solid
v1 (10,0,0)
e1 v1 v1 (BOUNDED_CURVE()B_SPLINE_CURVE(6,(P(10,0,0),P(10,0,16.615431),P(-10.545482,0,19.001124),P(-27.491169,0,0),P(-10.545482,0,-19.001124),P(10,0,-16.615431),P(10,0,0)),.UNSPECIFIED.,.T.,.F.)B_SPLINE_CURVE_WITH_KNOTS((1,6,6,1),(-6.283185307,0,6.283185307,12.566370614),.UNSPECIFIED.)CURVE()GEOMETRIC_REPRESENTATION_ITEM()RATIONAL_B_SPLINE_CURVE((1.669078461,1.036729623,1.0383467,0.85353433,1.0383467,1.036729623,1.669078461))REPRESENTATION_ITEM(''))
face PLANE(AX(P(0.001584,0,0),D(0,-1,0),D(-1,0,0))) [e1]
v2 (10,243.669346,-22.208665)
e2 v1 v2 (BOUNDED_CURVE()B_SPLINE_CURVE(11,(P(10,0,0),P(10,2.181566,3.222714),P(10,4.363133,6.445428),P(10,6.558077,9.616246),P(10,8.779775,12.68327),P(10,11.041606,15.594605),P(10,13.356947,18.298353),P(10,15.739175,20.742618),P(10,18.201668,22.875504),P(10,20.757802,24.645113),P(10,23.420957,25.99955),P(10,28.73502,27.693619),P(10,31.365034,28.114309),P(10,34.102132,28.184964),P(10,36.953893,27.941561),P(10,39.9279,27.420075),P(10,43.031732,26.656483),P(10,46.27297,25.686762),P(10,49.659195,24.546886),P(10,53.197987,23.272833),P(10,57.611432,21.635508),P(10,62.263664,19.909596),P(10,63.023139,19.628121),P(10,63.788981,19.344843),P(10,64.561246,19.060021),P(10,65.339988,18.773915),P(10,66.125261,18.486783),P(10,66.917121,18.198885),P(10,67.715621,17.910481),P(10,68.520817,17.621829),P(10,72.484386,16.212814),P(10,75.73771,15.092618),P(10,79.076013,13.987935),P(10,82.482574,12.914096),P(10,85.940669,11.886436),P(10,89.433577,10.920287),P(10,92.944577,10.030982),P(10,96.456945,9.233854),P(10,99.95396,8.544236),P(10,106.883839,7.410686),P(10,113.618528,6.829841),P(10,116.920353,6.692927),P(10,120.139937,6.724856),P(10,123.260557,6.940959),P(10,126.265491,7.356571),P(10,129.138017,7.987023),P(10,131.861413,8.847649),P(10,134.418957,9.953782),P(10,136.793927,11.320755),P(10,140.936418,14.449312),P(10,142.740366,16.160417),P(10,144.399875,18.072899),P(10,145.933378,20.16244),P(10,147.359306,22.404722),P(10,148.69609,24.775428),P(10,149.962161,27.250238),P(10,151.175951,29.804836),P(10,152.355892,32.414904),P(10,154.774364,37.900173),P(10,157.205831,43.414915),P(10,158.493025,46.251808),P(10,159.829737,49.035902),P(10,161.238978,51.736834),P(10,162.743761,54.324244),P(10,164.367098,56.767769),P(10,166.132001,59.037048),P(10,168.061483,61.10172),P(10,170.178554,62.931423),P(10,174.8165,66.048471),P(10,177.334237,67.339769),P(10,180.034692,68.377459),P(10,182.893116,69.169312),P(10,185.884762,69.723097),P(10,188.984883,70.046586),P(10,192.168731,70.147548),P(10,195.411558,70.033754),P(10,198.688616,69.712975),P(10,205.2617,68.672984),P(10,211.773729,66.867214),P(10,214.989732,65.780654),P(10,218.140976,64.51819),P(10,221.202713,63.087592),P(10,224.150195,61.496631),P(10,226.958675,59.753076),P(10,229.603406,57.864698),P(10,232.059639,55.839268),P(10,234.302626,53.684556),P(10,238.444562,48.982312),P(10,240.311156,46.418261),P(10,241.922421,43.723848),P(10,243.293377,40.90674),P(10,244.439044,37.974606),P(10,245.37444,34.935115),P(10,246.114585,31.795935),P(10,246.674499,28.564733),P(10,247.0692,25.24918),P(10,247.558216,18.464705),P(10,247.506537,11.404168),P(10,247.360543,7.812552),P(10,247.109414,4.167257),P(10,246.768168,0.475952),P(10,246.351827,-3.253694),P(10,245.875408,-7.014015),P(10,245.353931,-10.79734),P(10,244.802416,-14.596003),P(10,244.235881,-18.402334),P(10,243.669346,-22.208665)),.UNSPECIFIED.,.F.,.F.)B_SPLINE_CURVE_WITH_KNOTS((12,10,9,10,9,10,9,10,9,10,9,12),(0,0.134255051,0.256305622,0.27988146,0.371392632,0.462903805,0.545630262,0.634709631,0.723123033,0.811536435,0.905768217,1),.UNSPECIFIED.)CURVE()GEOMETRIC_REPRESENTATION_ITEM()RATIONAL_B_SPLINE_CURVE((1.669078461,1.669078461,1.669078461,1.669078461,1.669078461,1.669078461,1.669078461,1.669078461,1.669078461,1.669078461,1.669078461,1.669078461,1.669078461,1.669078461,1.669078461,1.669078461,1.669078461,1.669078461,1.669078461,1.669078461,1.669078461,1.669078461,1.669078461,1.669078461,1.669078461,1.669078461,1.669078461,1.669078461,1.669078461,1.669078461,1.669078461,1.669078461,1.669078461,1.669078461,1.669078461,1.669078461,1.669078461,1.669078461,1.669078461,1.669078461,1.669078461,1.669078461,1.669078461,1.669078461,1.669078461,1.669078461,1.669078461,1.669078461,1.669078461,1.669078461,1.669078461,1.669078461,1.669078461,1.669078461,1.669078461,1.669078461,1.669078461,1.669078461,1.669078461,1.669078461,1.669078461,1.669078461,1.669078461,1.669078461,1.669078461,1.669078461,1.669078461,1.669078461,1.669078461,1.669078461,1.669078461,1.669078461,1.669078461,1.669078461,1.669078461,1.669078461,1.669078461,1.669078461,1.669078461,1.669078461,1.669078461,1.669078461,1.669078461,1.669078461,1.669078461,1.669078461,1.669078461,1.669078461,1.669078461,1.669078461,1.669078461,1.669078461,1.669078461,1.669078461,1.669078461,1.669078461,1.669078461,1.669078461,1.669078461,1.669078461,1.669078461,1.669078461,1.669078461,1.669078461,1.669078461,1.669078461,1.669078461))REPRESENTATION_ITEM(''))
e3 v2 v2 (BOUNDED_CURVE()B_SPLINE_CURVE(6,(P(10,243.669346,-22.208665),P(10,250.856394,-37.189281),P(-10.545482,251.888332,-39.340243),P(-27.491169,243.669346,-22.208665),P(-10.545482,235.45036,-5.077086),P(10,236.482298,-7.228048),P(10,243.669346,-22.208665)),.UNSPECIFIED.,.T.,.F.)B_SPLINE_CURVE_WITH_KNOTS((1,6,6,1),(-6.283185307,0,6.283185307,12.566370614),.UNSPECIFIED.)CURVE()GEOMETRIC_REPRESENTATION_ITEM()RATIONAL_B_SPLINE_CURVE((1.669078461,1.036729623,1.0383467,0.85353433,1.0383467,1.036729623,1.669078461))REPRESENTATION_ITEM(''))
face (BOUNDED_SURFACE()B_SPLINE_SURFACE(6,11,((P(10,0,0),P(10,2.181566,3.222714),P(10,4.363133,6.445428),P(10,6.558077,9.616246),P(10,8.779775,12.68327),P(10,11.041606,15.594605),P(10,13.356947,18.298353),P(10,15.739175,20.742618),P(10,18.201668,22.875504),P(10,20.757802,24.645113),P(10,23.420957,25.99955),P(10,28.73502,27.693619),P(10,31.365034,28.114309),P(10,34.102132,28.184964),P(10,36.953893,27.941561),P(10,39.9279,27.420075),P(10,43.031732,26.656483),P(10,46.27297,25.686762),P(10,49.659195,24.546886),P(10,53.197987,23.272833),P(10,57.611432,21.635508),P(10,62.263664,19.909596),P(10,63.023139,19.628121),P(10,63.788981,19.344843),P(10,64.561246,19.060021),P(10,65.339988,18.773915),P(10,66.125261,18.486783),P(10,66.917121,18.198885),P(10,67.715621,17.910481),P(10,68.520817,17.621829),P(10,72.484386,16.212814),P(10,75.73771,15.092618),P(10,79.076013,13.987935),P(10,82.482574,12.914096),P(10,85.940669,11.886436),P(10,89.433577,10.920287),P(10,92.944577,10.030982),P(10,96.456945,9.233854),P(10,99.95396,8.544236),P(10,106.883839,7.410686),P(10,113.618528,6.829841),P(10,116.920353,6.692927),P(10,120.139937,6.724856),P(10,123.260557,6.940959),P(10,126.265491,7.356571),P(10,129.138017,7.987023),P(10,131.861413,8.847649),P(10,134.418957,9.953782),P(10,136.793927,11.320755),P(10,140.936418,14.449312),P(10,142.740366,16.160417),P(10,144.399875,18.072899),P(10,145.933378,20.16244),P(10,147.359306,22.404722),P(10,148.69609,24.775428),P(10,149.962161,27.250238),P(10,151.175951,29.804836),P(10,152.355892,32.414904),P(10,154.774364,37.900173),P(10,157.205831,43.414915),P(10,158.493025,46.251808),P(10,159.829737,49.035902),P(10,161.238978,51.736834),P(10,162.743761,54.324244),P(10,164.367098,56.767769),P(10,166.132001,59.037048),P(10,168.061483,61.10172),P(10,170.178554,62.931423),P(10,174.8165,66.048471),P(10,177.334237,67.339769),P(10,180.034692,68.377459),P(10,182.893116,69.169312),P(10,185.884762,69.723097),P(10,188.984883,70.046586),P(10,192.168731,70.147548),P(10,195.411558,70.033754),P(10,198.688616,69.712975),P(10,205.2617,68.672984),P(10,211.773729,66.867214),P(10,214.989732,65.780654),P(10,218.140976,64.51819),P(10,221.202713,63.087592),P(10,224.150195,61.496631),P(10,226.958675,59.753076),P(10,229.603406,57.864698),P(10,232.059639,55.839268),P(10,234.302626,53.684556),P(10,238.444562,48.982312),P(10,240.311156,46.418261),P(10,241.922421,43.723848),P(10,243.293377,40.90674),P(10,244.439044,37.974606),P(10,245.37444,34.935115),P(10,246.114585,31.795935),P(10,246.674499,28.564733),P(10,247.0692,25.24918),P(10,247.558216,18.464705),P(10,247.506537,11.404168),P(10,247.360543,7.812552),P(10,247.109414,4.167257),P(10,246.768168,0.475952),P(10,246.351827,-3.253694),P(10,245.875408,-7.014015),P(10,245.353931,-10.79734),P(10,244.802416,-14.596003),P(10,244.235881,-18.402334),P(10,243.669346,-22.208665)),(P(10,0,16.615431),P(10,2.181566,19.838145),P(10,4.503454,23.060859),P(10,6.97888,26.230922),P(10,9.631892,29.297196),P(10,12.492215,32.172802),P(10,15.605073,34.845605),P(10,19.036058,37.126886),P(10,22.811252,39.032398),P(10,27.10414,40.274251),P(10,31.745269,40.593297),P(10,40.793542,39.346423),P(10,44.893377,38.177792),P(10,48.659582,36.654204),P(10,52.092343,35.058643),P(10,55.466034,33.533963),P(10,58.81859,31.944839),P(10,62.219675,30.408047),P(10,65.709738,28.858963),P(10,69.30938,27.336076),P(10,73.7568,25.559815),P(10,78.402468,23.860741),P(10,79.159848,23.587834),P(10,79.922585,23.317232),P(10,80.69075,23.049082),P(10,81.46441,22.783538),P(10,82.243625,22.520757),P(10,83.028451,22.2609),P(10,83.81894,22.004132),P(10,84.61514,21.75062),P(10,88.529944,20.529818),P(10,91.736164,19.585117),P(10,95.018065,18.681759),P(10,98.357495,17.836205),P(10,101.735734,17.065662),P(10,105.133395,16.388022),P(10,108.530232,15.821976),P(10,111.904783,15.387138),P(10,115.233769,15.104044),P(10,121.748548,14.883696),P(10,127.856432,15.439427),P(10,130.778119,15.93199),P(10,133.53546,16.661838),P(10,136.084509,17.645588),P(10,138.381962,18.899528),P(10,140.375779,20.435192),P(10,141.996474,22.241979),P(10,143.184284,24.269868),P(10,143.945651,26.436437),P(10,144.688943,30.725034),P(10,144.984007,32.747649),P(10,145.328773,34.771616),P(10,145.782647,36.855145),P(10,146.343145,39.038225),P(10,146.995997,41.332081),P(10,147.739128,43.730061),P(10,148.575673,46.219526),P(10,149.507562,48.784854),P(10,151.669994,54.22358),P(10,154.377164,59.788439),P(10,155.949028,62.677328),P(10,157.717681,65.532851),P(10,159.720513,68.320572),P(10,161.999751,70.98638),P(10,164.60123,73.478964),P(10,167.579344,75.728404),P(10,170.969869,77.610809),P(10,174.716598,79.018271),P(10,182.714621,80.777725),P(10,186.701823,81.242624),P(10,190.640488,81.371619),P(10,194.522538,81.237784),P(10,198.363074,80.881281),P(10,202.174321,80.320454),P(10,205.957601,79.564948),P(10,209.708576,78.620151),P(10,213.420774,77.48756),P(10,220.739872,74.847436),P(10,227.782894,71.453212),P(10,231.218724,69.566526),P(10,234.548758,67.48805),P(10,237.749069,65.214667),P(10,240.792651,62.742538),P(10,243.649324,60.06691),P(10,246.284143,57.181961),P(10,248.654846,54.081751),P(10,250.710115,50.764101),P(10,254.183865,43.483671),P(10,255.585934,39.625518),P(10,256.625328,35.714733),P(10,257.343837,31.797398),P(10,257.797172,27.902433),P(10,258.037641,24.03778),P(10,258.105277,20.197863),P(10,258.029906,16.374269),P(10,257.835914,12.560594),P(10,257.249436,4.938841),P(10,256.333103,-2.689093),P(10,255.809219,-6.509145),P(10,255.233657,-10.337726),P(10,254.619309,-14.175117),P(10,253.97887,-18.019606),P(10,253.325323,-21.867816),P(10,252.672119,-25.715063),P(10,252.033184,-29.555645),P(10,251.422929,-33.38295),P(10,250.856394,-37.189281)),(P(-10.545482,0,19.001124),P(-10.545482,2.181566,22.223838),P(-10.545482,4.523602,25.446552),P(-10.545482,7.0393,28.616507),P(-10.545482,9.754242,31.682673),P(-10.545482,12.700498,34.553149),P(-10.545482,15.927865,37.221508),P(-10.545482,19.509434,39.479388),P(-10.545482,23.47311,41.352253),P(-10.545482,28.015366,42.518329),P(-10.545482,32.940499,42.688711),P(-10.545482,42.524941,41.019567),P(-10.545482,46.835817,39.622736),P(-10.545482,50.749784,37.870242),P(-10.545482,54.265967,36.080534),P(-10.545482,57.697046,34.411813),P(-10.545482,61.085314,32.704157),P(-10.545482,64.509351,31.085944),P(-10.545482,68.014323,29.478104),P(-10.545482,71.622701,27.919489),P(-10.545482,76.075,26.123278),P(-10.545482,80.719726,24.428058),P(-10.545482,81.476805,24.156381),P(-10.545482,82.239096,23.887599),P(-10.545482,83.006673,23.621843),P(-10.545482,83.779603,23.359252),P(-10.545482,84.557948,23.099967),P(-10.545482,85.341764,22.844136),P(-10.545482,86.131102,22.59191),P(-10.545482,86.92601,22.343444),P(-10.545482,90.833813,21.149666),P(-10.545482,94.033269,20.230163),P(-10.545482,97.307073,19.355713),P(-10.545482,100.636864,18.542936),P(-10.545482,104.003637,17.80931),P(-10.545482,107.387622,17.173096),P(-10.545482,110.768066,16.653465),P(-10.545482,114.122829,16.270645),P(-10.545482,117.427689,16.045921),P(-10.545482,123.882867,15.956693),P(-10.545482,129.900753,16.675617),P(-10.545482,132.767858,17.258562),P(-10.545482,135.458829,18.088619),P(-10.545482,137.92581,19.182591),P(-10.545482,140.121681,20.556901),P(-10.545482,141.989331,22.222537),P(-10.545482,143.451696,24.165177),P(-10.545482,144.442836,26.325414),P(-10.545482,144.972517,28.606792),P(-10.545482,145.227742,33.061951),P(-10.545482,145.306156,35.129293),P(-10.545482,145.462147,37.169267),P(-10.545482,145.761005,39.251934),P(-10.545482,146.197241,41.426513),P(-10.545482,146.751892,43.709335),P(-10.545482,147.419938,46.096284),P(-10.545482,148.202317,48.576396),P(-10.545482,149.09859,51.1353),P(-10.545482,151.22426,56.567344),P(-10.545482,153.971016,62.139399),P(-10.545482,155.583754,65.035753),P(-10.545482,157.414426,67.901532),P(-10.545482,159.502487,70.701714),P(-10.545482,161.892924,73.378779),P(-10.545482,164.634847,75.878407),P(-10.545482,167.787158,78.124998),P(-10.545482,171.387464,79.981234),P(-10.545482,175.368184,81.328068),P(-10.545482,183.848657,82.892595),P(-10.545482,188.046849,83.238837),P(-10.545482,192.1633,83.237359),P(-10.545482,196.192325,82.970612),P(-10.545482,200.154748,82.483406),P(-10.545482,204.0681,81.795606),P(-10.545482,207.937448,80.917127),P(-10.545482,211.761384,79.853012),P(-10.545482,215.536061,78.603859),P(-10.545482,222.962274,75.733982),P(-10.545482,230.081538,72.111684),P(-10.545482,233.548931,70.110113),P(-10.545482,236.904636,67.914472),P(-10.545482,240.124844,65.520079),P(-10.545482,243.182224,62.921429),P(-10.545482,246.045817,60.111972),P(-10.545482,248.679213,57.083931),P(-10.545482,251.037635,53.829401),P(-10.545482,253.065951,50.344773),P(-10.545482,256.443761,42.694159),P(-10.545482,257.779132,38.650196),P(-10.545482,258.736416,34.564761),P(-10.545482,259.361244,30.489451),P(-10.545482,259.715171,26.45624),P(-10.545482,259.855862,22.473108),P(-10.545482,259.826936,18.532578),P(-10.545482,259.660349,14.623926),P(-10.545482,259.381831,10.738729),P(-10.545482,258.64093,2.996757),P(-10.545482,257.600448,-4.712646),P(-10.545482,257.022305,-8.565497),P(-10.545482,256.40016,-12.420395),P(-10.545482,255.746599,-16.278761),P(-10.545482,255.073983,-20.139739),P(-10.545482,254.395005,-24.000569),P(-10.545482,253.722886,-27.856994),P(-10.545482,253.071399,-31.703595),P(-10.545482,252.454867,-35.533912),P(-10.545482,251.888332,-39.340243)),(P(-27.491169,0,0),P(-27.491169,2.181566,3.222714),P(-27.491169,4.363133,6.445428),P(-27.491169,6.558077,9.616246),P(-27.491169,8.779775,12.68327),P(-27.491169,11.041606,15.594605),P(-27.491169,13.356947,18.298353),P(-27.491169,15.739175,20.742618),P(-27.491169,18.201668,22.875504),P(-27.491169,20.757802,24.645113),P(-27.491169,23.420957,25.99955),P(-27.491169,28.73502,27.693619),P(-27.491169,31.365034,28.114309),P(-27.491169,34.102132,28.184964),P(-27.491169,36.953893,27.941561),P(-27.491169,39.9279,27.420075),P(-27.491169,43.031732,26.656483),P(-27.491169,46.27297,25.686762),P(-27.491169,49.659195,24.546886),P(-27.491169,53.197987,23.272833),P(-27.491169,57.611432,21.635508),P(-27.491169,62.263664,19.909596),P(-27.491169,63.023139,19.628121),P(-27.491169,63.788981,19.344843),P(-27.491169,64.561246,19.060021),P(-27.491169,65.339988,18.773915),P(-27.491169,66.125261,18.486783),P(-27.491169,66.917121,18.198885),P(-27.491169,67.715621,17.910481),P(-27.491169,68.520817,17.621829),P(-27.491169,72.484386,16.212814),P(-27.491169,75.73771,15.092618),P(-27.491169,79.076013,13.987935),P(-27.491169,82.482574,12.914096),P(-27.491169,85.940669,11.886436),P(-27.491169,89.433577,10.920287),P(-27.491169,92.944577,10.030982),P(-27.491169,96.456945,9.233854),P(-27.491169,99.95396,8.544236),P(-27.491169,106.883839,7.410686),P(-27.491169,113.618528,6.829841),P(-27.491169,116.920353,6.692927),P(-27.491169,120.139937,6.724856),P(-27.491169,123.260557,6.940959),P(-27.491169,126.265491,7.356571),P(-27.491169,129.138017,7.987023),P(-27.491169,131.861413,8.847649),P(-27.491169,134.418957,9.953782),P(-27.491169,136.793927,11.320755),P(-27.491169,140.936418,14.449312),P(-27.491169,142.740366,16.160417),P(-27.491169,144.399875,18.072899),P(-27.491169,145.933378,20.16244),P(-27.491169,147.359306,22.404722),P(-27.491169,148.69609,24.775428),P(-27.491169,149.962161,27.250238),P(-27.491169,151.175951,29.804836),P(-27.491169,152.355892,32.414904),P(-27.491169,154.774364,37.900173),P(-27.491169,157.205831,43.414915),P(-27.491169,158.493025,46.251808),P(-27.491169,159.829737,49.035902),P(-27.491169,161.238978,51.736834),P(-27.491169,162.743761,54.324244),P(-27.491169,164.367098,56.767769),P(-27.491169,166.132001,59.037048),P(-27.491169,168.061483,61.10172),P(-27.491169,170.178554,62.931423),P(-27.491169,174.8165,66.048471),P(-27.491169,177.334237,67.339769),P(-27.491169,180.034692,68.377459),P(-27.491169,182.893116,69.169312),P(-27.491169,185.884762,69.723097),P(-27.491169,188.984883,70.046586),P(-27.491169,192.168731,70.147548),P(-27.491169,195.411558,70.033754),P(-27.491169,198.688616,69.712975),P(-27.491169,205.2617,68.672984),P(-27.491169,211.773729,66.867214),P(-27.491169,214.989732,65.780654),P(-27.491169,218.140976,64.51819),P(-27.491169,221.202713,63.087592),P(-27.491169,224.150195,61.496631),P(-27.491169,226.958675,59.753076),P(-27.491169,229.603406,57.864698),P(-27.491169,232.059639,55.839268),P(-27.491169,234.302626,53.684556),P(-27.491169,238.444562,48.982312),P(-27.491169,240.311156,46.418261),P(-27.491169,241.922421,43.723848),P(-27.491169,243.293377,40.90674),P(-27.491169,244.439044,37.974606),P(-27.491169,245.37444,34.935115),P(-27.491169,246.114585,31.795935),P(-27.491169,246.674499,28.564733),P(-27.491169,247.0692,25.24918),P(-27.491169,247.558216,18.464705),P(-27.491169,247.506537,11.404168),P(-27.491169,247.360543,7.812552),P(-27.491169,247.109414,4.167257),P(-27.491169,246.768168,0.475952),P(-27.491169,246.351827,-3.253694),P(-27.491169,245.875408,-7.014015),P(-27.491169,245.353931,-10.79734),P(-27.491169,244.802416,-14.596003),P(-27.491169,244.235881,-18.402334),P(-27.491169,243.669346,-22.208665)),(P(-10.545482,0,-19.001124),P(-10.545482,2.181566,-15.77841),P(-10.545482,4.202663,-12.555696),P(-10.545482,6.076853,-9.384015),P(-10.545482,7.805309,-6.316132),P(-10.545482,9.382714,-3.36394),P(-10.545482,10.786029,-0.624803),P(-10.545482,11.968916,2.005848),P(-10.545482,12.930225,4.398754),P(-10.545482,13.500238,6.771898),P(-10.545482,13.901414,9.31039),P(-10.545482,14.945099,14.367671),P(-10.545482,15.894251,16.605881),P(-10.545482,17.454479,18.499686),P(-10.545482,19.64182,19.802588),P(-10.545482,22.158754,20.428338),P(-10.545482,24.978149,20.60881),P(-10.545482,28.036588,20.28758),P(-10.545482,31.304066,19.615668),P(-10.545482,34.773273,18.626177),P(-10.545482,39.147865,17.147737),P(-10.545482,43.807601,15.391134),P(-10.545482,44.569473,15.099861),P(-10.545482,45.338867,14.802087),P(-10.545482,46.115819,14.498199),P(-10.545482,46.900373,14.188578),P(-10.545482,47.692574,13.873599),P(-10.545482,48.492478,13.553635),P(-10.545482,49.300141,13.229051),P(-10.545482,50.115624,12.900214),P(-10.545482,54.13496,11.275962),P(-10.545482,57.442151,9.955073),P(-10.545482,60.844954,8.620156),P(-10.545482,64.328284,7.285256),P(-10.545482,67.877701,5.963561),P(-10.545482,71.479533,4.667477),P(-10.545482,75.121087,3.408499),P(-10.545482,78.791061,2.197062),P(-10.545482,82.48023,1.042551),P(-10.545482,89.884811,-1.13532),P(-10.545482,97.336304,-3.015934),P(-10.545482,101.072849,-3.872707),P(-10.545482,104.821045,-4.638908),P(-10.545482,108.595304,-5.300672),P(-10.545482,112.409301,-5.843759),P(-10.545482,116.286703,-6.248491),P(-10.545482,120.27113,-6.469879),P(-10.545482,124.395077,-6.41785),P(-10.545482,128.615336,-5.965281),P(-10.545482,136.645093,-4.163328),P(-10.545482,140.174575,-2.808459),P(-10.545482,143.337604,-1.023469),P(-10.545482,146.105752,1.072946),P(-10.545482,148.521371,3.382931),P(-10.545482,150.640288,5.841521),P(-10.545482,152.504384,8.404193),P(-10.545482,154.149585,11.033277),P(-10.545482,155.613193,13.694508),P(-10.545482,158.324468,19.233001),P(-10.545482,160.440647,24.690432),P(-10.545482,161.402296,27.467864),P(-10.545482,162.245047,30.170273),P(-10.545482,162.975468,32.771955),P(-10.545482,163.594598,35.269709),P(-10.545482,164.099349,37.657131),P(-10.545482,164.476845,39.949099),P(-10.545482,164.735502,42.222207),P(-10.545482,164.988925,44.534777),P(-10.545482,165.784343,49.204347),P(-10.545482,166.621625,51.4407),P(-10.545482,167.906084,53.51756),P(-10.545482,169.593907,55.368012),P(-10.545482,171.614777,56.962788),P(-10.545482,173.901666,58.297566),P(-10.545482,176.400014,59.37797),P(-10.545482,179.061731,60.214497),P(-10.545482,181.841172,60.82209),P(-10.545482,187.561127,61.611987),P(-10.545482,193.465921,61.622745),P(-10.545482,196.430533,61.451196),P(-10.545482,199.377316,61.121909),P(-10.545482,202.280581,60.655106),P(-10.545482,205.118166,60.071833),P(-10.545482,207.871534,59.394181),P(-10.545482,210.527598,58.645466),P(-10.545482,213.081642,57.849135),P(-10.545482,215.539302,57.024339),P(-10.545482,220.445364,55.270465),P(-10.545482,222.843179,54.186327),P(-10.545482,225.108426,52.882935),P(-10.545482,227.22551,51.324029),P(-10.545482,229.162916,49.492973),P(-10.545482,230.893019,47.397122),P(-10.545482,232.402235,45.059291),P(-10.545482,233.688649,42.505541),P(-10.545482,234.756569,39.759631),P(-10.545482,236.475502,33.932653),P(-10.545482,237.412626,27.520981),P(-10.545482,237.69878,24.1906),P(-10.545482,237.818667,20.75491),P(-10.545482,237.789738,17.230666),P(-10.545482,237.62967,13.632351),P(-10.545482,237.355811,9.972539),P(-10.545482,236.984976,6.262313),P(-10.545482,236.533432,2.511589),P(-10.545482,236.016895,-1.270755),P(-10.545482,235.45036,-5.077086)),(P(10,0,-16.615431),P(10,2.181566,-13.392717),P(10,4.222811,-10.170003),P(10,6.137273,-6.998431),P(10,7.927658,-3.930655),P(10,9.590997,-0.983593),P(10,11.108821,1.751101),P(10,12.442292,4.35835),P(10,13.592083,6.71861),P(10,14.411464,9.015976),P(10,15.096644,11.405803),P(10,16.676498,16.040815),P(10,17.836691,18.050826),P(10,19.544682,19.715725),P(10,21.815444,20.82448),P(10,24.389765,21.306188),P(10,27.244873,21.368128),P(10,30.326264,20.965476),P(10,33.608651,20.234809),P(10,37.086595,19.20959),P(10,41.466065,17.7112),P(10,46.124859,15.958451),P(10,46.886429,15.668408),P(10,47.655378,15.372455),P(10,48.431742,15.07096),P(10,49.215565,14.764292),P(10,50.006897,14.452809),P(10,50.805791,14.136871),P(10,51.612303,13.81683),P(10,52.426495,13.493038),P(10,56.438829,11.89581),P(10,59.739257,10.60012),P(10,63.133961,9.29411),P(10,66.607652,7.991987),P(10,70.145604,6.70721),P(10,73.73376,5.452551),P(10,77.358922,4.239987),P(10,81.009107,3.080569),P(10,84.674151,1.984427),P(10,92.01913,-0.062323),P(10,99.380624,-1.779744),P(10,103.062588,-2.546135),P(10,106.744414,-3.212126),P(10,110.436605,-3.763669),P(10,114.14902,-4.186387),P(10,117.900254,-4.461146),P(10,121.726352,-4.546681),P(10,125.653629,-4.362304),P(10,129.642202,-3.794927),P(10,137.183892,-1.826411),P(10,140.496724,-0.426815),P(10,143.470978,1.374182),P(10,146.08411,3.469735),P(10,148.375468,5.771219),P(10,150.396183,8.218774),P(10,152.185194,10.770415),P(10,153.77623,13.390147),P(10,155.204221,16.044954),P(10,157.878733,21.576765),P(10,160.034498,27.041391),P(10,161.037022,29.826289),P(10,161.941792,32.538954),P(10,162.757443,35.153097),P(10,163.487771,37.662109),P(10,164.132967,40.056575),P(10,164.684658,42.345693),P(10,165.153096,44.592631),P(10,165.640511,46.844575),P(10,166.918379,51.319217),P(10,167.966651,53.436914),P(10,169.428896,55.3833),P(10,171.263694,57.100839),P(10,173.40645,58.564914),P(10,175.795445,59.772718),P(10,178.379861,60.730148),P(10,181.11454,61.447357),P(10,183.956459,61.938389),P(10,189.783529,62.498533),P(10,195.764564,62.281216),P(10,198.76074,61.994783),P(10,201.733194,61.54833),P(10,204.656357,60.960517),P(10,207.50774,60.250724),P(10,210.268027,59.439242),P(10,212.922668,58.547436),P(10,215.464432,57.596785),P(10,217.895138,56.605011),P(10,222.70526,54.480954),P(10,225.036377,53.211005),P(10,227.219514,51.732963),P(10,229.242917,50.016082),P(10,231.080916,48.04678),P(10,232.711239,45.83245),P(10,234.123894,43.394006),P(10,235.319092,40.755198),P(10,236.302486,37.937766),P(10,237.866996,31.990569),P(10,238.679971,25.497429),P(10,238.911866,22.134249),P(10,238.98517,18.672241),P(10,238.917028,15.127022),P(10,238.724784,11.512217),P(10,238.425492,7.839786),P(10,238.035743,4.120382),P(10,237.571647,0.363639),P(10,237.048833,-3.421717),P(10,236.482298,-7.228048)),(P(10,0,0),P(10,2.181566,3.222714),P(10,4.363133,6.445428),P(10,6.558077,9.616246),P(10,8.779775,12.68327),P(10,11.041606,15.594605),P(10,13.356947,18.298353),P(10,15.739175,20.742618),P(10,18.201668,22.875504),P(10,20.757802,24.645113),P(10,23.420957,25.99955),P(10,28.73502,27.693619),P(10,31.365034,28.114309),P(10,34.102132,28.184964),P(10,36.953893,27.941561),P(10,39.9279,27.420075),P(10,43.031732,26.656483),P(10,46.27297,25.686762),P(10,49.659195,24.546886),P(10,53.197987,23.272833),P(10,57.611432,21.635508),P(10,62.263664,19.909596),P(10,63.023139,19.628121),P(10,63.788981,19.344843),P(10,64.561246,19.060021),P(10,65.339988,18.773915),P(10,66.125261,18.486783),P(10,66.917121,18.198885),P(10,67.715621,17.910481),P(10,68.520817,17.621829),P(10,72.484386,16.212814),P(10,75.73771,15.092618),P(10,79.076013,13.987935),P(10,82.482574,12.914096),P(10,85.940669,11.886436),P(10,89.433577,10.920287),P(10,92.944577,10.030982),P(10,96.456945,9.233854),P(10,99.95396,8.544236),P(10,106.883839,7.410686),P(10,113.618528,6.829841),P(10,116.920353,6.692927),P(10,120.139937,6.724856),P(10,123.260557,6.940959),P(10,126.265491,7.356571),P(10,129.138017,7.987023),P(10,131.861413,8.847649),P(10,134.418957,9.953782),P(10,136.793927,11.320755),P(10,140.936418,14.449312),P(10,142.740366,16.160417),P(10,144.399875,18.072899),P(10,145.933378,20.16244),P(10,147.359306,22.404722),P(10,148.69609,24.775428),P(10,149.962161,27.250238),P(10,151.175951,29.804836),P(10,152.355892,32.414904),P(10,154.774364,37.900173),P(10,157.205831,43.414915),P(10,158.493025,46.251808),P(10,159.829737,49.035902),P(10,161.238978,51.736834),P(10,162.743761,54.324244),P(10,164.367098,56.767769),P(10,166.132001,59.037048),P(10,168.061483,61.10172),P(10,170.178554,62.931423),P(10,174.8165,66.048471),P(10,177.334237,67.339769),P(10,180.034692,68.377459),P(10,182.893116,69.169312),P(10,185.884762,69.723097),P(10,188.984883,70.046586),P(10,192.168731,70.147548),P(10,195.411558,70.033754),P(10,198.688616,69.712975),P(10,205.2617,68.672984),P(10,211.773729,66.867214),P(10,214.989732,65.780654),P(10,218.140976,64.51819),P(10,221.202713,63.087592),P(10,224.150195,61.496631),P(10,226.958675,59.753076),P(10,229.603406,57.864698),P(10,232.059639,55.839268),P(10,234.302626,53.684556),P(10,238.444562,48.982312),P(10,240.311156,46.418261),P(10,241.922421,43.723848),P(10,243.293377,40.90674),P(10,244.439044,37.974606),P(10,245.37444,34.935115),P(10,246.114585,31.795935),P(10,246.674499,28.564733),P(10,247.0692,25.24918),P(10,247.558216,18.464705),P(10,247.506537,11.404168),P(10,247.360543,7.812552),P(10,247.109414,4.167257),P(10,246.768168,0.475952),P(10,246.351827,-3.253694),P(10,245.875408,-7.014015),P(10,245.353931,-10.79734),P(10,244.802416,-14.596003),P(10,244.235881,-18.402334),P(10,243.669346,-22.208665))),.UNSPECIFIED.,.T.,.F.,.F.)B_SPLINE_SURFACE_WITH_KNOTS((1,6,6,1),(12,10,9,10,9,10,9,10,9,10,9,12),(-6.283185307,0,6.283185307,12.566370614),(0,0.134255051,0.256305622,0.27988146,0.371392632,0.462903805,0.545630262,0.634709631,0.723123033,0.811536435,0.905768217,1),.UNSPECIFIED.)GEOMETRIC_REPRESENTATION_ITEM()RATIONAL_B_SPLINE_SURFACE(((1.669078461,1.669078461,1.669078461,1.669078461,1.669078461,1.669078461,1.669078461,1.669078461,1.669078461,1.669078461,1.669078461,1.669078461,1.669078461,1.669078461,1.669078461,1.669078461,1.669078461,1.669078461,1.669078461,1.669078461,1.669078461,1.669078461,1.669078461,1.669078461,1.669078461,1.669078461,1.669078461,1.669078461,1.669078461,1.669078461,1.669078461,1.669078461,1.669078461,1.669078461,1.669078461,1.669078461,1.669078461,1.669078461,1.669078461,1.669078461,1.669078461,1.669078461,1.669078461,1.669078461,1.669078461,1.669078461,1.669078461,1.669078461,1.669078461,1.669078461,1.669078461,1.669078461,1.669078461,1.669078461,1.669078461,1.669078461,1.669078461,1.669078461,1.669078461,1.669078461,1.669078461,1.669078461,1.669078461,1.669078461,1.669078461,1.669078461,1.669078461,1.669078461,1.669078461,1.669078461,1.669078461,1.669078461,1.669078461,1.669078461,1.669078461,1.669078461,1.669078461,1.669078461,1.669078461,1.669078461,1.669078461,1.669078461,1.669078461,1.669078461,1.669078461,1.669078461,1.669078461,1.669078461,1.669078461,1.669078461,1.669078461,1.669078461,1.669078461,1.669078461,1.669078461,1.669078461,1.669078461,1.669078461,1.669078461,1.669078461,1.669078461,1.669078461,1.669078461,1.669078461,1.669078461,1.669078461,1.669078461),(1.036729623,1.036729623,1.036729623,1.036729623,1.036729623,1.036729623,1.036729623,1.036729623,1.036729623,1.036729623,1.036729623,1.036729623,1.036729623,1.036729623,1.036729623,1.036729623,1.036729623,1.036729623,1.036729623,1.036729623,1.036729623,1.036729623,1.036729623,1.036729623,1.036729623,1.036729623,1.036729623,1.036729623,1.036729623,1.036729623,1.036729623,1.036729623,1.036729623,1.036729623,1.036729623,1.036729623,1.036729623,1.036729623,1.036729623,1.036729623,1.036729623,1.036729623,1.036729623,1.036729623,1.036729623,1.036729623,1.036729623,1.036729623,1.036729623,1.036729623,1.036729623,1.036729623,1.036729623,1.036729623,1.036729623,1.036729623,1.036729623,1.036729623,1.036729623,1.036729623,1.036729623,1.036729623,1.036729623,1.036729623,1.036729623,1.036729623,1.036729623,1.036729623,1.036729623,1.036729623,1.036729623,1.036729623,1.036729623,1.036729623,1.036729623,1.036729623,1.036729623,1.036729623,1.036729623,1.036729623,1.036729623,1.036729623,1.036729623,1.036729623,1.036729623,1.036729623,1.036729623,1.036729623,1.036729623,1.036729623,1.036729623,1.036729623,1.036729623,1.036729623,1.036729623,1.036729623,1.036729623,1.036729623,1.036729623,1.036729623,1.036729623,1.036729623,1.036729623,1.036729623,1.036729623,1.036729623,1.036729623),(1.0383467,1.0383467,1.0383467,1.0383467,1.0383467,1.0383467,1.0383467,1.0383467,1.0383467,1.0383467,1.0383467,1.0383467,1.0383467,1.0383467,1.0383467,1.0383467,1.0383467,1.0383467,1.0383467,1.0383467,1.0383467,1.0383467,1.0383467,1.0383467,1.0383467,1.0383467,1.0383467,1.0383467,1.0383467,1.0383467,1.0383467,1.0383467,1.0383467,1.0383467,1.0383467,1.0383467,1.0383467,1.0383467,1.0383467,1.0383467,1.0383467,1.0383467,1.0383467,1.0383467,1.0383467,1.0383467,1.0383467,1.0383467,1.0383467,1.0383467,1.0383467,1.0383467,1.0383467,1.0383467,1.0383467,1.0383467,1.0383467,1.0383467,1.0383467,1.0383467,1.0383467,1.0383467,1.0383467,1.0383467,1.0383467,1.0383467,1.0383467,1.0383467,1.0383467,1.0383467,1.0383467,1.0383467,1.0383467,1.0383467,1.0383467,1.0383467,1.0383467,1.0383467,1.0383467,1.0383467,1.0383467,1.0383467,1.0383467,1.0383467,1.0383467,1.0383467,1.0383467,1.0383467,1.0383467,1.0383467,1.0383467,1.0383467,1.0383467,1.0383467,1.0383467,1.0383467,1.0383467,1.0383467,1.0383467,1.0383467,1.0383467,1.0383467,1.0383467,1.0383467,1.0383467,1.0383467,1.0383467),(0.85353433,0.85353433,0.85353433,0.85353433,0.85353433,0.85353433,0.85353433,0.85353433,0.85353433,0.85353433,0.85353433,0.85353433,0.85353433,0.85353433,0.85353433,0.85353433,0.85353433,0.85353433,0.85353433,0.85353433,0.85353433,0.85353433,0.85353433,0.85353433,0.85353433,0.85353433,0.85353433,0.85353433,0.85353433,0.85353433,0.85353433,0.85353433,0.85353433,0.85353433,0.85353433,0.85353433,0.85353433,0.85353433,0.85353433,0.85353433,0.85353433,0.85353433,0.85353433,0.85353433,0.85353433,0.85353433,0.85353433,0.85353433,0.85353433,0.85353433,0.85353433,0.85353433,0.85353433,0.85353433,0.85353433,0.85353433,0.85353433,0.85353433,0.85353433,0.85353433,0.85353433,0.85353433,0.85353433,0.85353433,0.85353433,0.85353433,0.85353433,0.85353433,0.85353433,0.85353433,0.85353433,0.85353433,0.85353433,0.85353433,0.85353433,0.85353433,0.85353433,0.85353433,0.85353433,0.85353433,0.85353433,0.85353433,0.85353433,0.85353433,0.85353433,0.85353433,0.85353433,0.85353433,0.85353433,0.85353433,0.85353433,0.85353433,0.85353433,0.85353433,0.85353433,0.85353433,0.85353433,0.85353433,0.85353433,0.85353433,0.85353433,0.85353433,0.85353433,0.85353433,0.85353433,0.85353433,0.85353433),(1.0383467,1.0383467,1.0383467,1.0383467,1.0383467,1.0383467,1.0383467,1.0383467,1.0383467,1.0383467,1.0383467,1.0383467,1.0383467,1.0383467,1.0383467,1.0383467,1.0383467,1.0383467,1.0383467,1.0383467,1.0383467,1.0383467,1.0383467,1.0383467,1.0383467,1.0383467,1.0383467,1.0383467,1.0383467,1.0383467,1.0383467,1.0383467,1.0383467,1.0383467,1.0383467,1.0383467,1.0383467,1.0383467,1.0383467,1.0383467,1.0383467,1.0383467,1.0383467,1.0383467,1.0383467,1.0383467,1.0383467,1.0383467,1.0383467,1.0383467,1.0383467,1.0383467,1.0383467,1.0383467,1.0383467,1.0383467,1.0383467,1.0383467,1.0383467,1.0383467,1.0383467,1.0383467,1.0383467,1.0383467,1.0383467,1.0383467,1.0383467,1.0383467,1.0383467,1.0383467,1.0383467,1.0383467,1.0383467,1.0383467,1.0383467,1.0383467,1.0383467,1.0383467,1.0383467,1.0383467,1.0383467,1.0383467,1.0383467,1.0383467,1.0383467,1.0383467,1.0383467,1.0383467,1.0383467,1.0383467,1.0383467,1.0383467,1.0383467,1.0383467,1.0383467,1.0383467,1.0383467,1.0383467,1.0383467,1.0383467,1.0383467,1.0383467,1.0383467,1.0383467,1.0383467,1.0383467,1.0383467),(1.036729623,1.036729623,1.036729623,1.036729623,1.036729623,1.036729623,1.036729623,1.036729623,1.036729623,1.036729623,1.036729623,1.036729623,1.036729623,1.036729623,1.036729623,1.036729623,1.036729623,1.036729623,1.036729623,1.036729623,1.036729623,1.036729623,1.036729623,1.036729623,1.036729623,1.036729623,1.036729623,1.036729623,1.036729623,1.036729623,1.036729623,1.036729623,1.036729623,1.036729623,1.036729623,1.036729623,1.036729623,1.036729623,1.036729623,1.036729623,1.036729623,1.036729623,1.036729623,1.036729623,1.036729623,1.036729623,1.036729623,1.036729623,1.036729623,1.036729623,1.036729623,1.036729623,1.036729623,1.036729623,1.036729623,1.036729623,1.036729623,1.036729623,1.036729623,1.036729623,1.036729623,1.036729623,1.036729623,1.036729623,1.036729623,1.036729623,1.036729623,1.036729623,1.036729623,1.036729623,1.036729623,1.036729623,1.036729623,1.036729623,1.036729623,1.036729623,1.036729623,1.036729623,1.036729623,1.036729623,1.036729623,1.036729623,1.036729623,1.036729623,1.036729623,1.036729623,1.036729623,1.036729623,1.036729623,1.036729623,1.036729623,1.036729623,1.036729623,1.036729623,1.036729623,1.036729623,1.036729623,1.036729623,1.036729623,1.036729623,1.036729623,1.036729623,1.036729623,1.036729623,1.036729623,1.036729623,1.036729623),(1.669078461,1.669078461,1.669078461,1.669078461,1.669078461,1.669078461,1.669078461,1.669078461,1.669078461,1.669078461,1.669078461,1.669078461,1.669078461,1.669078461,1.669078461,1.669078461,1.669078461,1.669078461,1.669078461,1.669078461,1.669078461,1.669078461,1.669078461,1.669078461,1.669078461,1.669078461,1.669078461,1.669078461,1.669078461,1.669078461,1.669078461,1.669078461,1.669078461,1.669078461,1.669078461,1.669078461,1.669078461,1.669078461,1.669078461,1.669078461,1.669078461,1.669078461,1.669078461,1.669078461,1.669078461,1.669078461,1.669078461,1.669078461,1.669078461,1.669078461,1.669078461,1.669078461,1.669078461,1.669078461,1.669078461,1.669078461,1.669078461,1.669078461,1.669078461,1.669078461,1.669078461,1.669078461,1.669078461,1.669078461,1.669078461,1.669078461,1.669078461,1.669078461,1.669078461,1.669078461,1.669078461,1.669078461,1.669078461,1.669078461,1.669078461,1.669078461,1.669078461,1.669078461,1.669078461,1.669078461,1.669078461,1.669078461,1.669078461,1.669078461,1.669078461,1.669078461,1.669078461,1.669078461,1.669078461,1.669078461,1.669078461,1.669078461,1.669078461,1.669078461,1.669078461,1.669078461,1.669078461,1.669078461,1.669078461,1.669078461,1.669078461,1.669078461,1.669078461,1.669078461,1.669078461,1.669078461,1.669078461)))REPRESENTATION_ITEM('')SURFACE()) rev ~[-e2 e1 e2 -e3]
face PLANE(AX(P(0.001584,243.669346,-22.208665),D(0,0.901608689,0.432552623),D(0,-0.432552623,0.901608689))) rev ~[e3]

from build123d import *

# Parameters (mm, degrees)
F1_R = 10


with BuildPart() as f2:
    # F2: sweep along a path in F0
    with BuildLine(Plane.YZ) as f2_path:
        add(Plane.YZ * Edge.make_bspline(
            [(0, 0), (7.9990766786, 11.8166184541), (24.6747491005, 36.4507189125), (68.1208616329, 15.6439848407), (151.7111774811, -6.7860592998), (158.2051876108, 83.442580693), (255.8765841806, 59.8071079516), (247.8239343089, 5.7044281385), (243.6693459749, -22.2086645663)],
            knots=[0, 0, 0, 0, 0.1342550513, 0.2798814596, 0.4629038045, 0.6347096313, 0.8115364348, 1, 1, 1, 1], degree=3))
    # F1 (on Front) → F2 (sweep)
    with BuildSketch(Plane.XZ):
        Circle(F1_R)
    sweep(path=f2_path.line)


solid = f2.part
